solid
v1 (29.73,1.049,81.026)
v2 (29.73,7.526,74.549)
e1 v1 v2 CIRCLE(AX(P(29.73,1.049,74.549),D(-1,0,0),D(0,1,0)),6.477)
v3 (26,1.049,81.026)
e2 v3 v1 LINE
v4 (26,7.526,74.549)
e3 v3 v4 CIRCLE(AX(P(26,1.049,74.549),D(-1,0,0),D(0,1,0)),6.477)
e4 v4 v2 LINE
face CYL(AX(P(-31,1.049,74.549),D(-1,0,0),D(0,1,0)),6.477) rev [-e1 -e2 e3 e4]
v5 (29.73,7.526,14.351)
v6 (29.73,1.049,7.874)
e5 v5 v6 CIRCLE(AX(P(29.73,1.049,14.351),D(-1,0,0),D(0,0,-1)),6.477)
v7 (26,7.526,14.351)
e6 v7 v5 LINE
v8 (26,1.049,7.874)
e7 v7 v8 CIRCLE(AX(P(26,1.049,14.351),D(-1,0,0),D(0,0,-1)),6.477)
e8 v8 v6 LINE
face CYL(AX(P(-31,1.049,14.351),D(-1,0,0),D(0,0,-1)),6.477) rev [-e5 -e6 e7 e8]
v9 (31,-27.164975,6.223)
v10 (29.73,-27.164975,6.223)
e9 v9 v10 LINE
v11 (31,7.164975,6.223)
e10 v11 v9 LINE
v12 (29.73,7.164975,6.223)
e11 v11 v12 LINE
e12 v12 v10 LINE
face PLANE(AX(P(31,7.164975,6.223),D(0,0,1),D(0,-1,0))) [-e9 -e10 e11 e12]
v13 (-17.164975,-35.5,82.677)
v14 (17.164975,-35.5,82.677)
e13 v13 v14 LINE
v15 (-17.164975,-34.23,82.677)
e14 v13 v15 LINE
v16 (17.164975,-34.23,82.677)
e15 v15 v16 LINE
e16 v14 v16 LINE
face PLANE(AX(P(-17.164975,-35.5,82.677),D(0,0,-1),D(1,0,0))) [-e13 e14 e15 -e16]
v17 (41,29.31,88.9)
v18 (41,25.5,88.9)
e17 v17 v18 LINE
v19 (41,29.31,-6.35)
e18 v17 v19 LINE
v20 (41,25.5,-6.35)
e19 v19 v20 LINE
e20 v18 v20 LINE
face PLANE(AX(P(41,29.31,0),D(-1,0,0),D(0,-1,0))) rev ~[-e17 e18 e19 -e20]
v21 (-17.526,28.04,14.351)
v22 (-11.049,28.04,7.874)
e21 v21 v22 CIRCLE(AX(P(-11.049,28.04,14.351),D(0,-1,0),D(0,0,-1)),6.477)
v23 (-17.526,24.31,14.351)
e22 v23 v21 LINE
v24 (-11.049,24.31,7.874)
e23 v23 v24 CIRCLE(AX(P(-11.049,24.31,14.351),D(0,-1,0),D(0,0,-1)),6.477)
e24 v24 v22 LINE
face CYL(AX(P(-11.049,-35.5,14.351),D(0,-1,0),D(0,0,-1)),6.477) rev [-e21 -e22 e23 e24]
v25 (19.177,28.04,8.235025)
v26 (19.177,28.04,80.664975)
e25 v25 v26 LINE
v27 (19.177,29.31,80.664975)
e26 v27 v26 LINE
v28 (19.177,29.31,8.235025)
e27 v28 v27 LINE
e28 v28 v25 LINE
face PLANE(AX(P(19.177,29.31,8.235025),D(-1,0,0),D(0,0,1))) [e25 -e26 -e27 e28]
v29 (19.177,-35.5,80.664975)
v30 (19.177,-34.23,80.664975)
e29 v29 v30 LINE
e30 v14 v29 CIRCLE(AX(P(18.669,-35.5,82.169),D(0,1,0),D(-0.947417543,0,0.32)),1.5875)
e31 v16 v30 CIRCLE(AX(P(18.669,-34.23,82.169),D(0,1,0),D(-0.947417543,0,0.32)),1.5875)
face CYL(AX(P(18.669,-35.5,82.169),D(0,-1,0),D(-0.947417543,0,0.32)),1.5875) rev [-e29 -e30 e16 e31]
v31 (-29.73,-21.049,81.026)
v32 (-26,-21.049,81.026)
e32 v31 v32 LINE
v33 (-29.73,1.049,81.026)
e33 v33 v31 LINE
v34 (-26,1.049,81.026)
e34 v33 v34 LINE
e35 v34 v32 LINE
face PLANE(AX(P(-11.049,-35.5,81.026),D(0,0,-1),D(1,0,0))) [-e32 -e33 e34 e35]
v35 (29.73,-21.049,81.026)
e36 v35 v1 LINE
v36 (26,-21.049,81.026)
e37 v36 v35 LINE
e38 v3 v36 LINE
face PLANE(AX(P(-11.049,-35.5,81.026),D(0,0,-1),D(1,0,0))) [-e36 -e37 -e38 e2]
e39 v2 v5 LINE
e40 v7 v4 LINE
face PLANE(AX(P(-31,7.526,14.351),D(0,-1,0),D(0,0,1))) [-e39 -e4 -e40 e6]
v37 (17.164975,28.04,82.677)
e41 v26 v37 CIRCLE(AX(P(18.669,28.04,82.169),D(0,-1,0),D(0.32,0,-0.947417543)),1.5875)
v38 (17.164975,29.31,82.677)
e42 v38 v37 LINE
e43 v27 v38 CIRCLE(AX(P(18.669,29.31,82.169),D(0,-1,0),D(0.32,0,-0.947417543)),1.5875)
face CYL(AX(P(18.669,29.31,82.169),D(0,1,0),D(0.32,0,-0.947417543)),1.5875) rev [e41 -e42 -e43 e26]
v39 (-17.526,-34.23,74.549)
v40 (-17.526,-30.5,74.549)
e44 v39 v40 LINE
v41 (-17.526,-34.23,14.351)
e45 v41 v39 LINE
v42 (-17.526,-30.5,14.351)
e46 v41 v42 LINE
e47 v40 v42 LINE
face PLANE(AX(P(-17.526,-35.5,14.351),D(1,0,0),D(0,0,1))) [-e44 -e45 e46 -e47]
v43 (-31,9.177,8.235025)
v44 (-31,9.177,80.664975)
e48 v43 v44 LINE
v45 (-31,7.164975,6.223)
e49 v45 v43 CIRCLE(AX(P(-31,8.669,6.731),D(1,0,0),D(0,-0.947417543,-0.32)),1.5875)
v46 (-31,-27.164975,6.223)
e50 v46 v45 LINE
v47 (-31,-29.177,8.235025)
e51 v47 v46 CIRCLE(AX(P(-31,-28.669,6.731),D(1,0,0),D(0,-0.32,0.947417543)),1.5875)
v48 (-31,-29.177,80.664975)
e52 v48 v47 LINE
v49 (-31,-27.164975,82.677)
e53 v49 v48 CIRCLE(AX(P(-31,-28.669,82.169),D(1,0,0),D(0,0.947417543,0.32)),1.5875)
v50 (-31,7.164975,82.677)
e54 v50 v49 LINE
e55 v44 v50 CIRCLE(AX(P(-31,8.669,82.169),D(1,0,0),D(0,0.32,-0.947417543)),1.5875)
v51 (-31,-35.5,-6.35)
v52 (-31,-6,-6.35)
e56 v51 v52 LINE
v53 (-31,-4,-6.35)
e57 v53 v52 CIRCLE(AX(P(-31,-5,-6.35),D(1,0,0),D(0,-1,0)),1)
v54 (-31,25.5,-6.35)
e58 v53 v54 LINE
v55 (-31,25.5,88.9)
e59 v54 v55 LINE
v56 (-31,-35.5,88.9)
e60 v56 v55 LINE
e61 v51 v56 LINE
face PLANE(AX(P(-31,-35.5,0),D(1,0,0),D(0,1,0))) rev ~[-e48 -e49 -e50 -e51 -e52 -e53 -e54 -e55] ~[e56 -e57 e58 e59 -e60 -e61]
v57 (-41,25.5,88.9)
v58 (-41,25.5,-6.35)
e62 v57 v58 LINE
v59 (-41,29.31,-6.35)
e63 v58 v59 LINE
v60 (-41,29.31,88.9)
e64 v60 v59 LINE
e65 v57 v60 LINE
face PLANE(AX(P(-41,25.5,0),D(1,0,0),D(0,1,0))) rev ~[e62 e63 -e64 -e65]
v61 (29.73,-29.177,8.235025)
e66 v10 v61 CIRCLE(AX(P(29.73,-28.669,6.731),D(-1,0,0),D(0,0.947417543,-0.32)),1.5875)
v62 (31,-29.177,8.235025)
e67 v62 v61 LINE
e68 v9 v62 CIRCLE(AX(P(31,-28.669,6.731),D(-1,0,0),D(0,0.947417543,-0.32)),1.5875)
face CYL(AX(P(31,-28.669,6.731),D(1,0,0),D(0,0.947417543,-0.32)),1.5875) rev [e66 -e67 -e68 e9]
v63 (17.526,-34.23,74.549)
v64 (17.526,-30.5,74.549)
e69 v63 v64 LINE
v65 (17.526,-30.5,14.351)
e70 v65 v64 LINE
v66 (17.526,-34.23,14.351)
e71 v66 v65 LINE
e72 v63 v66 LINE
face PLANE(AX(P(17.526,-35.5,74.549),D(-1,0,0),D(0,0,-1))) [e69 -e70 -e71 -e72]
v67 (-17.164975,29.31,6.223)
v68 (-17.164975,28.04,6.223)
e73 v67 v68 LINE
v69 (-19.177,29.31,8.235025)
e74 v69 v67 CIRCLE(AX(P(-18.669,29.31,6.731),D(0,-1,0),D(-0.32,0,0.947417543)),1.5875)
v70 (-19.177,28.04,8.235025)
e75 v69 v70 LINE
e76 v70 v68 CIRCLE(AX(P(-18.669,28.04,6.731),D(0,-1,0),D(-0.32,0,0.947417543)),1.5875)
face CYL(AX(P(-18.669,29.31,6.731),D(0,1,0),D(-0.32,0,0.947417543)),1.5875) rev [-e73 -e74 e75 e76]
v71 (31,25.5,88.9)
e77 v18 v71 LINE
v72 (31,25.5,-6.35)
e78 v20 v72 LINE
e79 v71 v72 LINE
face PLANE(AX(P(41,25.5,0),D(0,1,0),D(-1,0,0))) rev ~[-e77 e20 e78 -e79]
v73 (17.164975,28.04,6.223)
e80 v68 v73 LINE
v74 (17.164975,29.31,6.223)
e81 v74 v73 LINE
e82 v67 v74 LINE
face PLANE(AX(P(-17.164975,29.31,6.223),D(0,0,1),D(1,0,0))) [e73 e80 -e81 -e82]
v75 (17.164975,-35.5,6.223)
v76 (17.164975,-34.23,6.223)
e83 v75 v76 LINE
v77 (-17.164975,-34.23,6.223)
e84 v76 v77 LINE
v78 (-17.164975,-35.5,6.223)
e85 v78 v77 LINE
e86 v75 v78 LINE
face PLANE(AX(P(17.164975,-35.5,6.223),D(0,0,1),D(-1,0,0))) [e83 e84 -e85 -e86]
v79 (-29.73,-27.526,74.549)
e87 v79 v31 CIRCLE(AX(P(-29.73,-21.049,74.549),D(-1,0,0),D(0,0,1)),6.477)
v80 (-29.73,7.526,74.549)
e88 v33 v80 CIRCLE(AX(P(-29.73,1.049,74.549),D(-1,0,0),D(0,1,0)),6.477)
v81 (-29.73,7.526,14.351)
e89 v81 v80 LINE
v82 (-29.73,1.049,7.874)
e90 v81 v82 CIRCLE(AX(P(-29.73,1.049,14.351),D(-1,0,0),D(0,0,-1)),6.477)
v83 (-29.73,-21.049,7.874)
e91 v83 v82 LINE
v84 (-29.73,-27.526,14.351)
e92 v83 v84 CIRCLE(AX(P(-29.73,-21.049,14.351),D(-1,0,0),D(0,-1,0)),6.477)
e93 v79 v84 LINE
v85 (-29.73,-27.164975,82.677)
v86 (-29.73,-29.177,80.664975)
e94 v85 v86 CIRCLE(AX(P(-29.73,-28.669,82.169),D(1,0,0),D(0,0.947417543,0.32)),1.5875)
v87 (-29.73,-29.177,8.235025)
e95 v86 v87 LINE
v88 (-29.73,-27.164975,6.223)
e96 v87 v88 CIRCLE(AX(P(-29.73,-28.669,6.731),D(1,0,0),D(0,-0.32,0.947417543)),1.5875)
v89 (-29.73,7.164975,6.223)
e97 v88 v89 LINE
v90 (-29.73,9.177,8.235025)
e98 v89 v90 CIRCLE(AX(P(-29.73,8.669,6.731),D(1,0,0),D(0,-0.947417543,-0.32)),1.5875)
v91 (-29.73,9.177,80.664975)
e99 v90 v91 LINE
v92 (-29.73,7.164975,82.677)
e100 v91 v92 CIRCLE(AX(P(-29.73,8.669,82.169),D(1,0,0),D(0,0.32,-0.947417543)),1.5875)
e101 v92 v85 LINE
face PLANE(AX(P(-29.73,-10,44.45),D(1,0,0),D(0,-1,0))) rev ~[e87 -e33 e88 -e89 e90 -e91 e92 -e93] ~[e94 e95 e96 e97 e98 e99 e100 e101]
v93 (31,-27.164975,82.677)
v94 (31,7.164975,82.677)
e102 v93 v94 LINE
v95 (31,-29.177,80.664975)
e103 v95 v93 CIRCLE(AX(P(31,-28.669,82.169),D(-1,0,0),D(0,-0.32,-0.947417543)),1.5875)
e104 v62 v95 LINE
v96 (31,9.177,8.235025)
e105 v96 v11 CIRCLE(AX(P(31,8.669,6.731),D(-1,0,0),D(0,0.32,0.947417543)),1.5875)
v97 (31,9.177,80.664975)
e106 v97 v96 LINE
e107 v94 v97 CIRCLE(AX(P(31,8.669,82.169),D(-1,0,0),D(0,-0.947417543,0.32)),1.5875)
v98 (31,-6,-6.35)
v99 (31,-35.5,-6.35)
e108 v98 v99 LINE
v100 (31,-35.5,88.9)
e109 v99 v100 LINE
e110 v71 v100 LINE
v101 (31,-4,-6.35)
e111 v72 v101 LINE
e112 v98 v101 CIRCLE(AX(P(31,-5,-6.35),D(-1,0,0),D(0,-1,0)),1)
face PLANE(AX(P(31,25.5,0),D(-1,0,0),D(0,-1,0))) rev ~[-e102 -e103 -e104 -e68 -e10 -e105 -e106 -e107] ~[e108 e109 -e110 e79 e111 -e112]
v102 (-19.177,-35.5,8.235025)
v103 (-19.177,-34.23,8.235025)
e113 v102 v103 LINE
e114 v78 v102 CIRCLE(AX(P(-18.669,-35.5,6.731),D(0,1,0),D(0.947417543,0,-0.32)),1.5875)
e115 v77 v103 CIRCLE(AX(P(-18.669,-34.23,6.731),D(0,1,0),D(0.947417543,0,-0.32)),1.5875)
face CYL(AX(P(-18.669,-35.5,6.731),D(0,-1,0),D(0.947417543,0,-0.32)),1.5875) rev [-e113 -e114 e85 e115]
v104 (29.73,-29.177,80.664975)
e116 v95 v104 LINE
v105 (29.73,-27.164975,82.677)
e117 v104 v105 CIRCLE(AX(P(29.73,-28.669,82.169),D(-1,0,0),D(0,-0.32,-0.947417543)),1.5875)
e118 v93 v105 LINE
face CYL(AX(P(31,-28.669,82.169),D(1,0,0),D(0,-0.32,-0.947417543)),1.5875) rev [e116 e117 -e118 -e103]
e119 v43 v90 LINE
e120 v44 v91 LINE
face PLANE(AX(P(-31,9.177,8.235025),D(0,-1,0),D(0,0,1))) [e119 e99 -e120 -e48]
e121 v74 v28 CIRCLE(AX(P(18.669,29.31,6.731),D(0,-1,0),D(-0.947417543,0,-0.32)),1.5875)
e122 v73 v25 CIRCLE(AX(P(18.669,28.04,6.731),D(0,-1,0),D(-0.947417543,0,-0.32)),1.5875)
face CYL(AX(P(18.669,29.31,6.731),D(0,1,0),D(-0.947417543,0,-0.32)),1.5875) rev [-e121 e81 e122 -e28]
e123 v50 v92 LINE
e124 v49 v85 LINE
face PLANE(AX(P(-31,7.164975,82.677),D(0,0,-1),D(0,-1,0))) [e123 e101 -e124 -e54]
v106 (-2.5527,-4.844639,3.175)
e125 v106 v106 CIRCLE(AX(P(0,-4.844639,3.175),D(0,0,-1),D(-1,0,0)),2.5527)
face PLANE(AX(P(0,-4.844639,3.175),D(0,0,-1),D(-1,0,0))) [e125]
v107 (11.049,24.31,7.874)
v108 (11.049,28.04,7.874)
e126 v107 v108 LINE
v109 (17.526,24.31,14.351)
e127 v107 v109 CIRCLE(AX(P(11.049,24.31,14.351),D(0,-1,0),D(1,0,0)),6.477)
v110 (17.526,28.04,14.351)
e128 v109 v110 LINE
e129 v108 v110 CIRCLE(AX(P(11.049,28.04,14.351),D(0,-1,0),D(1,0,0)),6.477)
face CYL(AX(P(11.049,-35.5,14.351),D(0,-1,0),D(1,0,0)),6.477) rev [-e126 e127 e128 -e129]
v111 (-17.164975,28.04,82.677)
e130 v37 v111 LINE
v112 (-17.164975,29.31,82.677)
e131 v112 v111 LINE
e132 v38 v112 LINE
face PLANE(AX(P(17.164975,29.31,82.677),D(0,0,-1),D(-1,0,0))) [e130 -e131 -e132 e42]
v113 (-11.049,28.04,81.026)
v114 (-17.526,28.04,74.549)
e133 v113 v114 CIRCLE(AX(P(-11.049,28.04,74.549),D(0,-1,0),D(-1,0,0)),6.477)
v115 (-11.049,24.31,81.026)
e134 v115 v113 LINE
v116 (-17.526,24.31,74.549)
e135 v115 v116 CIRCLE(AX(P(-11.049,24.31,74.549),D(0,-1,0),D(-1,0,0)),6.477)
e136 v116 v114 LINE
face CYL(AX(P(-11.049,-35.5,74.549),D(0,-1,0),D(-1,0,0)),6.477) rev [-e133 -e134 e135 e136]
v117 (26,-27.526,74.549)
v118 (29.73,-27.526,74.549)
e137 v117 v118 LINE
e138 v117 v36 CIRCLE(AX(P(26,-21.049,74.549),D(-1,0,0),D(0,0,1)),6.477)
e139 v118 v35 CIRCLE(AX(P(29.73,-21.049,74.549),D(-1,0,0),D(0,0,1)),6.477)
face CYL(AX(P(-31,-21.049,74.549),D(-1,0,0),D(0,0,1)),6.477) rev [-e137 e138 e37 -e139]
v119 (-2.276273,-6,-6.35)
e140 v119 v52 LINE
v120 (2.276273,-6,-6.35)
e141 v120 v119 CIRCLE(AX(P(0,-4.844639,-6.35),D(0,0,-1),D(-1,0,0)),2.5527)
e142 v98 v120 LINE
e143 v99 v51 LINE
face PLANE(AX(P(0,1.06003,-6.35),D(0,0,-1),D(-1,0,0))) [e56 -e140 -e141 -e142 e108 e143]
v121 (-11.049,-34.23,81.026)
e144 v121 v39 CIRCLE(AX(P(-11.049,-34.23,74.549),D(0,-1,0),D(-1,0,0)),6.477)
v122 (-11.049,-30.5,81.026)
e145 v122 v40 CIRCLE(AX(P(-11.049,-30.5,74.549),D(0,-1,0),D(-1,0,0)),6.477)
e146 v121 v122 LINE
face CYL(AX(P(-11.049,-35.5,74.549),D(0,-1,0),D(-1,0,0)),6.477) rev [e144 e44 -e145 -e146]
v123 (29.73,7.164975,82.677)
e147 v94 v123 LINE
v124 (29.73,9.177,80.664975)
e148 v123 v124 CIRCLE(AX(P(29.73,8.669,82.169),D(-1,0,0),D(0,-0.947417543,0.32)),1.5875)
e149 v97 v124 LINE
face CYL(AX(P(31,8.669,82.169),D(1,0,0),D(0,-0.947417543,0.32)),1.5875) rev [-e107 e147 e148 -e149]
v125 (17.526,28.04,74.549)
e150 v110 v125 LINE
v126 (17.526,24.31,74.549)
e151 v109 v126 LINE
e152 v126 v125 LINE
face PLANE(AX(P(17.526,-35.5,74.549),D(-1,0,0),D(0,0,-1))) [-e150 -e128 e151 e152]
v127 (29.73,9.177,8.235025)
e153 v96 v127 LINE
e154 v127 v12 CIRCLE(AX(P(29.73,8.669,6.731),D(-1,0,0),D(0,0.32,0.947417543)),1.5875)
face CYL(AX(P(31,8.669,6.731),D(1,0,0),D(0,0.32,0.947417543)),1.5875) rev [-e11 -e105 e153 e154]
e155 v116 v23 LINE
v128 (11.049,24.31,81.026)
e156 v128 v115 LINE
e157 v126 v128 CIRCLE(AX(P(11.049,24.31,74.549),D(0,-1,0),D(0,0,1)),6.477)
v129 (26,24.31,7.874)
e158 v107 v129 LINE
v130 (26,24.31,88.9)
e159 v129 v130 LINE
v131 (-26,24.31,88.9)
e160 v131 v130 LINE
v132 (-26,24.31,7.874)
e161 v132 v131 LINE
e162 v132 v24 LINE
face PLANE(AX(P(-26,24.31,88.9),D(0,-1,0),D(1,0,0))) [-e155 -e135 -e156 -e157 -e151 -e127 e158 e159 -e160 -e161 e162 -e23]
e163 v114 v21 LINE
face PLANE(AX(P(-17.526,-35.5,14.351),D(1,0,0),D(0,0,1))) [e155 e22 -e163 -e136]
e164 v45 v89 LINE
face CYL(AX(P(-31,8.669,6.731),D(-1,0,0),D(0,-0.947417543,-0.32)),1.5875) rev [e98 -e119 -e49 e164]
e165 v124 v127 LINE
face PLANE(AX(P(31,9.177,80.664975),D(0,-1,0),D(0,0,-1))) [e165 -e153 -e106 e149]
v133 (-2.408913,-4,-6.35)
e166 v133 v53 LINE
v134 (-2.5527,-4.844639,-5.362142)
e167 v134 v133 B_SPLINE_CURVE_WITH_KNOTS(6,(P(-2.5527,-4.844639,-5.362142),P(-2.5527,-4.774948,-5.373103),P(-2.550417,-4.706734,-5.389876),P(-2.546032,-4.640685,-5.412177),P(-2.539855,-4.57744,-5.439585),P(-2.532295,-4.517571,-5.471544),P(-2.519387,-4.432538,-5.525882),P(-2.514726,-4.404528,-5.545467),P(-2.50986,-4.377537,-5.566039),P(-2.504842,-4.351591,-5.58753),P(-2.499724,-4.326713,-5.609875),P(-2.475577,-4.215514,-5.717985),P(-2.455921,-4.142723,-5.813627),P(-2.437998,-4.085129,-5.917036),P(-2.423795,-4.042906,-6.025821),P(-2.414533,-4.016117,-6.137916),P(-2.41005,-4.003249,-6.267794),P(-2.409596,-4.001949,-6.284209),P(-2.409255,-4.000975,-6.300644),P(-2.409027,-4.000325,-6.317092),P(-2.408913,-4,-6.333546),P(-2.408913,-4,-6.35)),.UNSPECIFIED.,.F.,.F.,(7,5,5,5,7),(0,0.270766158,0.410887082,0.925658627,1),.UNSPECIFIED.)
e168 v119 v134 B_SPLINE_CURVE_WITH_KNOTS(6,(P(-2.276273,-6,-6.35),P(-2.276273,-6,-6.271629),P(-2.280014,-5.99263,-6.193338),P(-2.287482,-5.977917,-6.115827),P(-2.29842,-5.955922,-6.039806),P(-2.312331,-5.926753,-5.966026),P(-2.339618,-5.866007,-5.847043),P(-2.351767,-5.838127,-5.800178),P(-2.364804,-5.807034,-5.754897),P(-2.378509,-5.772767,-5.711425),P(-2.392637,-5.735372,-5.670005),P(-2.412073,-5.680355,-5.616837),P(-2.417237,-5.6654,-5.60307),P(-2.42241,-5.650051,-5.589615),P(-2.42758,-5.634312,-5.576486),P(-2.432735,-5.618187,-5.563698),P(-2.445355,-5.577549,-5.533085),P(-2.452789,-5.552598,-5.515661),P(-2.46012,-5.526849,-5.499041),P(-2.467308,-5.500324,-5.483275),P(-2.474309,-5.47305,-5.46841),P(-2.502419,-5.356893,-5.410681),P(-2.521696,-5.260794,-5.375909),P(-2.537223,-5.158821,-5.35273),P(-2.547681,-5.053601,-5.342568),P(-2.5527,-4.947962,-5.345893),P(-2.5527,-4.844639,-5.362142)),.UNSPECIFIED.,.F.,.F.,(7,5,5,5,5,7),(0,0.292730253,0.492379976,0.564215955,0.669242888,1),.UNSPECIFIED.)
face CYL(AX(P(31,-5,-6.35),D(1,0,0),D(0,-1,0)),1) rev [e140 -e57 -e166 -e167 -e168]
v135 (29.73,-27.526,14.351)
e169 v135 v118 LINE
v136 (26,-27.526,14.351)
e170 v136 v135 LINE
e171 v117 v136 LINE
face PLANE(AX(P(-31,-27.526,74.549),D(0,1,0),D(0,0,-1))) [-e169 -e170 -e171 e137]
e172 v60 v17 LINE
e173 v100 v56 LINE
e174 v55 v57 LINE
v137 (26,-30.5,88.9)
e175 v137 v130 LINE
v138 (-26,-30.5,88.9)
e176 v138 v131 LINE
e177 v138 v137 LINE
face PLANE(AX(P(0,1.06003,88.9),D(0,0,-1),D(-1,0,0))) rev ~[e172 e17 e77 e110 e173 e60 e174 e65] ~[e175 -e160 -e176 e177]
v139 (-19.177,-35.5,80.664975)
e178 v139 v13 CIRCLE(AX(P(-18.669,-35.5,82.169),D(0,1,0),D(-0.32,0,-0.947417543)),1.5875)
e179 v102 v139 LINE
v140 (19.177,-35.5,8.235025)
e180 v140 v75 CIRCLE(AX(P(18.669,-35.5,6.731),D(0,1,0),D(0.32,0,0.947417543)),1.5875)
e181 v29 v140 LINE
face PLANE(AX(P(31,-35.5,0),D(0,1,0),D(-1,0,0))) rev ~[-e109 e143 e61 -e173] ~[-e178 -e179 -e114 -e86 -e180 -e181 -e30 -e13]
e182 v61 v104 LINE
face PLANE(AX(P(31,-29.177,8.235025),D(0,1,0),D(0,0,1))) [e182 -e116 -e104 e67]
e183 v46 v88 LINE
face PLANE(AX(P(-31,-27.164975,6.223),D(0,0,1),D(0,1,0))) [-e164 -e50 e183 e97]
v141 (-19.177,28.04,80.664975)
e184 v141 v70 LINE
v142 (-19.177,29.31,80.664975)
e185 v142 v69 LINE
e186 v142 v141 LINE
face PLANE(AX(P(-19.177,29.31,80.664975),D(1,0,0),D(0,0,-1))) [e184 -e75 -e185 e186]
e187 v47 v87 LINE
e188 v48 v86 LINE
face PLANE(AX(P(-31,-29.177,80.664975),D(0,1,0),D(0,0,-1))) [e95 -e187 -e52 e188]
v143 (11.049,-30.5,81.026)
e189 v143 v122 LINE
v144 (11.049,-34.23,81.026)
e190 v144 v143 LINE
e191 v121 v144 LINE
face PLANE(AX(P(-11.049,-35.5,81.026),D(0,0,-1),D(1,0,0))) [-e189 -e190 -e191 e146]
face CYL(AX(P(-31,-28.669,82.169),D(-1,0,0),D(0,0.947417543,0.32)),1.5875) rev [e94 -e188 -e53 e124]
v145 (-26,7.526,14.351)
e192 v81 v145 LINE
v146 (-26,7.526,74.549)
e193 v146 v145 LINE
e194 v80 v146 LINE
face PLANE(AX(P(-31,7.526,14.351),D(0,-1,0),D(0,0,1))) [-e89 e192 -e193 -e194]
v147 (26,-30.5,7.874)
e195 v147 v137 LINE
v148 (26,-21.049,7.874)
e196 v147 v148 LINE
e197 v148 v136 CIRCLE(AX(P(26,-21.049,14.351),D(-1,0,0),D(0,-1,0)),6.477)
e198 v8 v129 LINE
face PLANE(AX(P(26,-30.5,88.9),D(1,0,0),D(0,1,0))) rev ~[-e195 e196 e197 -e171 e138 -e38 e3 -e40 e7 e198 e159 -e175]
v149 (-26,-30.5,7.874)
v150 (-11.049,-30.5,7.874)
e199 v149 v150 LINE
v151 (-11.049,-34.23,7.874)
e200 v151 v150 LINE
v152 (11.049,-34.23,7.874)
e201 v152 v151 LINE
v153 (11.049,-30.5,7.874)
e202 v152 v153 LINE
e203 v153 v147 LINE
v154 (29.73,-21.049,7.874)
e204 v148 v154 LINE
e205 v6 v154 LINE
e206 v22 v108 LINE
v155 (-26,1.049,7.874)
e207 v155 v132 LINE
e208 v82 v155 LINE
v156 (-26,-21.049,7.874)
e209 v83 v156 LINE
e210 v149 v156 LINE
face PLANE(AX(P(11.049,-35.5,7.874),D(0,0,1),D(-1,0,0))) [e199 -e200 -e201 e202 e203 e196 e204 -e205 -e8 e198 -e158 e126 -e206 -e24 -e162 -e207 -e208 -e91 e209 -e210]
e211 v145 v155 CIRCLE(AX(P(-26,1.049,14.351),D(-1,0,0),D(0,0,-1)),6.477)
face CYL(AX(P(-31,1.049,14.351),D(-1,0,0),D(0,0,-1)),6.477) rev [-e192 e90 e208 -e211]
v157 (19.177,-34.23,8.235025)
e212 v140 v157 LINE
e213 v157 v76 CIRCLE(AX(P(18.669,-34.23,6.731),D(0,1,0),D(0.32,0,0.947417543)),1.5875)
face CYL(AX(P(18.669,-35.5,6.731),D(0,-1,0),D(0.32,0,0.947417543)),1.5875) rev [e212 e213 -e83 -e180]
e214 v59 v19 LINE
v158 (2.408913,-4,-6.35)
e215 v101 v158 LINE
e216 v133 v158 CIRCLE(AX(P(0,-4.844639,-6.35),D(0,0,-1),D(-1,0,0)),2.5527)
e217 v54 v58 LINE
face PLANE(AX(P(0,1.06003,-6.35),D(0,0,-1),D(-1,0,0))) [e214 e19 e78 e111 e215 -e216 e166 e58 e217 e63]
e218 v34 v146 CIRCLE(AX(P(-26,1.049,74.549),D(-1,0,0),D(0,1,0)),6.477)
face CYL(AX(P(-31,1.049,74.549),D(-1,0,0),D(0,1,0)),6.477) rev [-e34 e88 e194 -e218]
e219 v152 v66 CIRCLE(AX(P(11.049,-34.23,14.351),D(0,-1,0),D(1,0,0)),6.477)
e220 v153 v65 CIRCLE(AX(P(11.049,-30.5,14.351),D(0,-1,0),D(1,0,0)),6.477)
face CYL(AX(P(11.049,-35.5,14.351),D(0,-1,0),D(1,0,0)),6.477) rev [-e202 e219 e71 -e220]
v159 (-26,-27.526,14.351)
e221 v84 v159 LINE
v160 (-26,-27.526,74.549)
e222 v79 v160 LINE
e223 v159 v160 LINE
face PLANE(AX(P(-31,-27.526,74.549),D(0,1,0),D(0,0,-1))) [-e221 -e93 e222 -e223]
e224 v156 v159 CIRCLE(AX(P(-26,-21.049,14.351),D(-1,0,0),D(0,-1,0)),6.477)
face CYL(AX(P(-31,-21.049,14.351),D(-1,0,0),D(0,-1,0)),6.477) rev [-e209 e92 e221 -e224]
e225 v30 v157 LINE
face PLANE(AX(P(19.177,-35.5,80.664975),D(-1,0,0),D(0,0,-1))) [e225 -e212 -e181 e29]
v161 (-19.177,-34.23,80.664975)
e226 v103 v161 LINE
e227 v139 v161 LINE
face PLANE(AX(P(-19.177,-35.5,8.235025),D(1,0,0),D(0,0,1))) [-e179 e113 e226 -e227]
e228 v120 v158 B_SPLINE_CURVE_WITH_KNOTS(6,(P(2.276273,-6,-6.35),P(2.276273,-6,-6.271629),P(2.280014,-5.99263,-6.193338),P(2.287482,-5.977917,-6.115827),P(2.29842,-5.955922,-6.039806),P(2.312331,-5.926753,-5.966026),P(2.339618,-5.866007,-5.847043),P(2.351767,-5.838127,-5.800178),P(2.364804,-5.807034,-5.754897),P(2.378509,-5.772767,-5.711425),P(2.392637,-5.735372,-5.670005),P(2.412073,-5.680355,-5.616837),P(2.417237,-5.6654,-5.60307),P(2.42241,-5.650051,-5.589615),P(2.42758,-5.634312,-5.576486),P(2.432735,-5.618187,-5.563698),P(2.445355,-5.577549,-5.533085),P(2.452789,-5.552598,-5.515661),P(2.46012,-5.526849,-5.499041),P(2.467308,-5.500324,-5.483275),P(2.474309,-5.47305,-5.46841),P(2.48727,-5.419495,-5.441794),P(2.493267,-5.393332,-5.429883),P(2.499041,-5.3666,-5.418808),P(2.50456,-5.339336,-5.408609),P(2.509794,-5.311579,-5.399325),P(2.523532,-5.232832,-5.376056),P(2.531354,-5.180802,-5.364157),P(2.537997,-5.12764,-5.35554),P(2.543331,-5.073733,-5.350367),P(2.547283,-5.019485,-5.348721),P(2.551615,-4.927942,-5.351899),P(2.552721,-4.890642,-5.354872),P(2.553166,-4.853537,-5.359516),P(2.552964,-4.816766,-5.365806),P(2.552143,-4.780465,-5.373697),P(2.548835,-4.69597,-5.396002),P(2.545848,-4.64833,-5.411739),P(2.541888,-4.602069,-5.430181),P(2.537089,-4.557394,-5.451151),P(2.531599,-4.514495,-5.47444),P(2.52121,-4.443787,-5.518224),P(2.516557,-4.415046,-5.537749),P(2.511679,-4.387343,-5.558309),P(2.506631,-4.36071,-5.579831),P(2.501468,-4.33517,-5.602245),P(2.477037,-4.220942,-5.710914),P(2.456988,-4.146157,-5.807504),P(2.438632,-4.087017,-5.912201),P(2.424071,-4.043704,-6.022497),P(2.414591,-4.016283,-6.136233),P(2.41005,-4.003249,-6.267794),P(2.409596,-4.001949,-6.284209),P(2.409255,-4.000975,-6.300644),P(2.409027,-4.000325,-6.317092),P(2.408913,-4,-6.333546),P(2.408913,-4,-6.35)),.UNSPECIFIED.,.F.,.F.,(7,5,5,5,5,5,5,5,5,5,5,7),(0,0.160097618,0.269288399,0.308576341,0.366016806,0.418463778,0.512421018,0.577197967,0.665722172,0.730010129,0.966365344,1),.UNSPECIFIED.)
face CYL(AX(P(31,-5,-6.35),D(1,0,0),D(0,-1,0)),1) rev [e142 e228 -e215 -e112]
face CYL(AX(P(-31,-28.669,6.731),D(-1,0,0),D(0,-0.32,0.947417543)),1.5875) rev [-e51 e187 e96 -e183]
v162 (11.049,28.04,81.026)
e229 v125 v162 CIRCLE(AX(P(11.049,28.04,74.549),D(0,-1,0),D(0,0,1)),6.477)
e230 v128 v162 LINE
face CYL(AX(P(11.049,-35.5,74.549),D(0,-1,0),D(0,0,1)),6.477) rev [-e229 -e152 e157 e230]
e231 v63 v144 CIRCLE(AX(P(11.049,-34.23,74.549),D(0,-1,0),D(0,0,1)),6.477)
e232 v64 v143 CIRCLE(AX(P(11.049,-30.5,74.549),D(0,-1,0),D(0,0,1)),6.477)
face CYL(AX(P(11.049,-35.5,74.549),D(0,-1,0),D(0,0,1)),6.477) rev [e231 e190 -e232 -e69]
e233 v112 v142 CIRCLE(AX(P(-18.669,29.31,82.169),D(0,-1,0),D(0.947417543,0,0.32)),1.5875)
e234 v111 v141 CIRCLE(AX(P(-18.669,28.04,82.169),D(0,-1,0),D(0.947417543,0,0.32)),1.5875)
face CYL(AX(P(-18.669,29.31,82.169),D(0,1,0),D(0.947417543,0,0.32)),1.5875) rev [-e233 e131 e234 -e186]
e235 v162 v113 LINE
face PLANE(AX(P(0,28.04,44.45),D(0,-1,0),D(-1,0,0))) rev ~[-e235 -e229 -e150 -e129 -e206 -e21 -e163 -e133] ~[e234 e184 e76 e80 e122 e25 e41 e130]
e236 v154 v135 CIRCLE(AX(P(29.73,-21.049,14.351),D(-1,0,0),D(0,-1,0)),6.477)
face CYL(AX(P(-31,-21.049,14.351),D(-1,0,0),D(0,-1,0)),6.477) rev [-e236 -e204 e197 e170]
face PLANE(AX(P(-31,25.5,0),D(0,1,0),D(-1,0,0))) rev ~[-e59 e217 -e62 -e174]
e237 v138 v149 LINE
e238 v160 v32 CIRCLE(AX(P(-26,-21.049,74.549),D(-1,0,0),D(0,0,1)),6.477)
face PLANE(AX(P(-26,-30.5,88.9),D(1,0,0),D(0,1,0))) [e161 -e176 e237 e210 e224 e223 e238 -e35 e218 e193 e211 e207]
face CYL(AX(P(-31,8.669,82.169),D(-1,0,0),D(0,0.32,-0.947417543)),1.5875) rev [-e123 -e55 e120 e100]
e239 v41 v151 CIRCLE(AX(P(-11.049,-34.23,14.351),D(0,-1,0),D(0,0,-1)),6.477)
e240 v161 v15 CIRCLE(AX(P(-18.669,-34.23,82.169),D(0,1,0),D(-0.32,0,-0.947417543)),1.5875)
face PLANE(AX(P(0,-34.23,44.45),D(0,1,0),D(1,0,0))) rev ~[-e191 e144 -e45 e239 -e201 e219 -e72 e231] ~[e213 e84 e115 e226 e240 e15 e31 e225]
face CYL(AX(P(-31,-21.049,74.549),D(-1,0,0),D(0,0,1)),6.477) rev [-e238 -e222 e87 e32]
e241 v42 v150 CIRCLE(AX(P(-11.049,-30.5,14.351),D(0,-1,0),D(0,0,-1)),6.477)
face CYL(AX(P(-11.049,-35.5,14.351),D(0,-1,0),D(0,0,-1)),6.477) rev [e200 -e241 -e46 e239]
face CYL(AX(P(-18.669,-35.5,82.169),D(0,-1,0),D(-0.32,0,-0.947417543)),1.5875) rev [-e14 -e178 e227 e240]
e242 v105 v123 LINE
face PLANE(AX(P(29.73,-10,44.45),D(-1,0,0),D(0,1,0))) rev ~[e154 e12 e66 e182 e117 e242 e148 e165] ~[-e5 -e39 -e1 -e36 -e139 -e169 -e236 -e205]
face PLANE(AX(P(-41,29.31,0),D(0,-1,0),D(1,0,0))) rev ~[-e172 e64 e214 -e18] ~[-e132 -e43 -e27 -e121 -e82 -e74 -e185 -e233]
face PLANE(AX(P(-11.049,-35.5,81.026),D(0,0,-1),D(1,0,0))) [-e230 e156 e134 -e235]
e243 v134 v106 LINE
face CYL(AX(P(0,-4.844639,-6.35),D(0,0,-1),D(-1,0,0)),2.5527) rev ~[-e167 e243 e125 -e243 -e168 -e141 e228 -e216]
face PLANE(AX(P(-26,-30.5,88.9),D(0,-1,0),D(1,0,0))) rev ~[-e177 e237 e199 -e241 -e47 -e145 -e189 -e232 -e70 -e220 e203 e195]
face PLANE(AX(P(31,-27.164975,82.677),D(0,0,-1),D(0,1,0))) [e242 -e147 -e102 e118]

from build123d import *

# Parameters (mm, degrees)
BOSS_EXTRUDE1_DEPTH = 88.9
CUT_EXTRUDE5_DEPTH  = 73
CUT_EXTRUDE6_DEPTH  = 65.81
SKETCH8_W           = 52
SKETCH8_H           = 54.81
CUT_EXTRUDE7_DEPTH  = 15.875
SKETCH12_W          = 52
SKETCH12_H          = 54.81
CUT_EXTRUDE11_DEPTH = 63.5
SKETCH18_W          = 52
SKETCH18_H          = 54.81
CUT_EXTRUDE14_DEPTH = 81.026
BOSS_EXTRUDE2_DEPTH = 6.35
SKETCH20_R          = 2.5527
CUT_EXTRUDE15_DEPTH = 9.525
CUT_EXTRUDE16_DEPTH = 73
CUT_EXTRUDE17_DEPTH = 1.27
CUT_EXTRUDE18_DEPTH = 1.27
CUT_EXTRUDE19_DEPTH = 1.27
CUT_EXTRUDE20_DEPTH = 1.27


with BuildPart() as part:
    # Sketch1 → Boss-Extrude1 (new body)
    with BuildSketch(Plane.XY):
        Polygon((-41, 29.31), (41, 29.31), (41, 25.5), (31, 25.5), (31, -35.5), (-31, -35.5), (-31, 25.5), (-41, 25.5), align=None)
    extrude(amount=BOSS_EXTRUDE1_DEPTH)

    # Sketch6 → Cut-Extrude5 (cut, through all)
    with BuildSketch(Plane.ZY.offset(31)):
        with BuildLine():
            Line((14.351, 7.526), (74.549, 7.526))
            ThreePointArc((74.549, 7.526), (79.128930622, 5.628930622), (81.026, 1.049))
            Line((81.026, 1.049), (81.026, -21.049))
            ThreePointArc((81.026, -21.049), (79.128930622, -25.628930622), (74.549, -27.526))
            Line((74.549, -27.526), (14.351, -27.526))
            ThreePointArc((14.351, -27.526), (9.771069378, -25.628930622), (7.874, -21.049))
            Line((7.874, -21.049), (7.874, 1.049))
            ThreePointArc((7.874, 1.049), (9.771069378, 5.628930622), (14.351, 7.526))
        make_face()
    extrude(amount=-CUT_EXTRUDE5_DEPTH, mode=Mode.SUBTRACT)

    # Sketch7 → Cut-Extrude6 (cut, through all)
    with BuildSketch(Plane(origin=(0, -35.5, 0), x_dir=(0, 0, 1), z_dir=(0, -1, 0))):
        with BuildLine():
            Line((14.351, 17.526), (74.549, 17.526))
            ThreePointArc((74.549, 17.526), (79.128930622, 15.628930622), (81.026, 11.049))
            Line((81.026, 11.049), (81.026, -11.049))
            ThreePointArc((81.026, -11.049), (79.128930622, -15.628930622), (74.549, -17.526))
            Line((74.549, -17.526), (14.351, -17.526))
            ThreePointArc((14.351, -17.526), (9.771069378, -15.628930622), (7.874, -11.049))
            Line((7.874, -11.049), (7.874, 11.049))
            ThreePointArc((7.874, 11.049), (9.771069378, 15.628930622), (14.351, 17.526))
        make_face()
    extrude(amount=-CUT_EXTRUDE6_DEPTH, mode=Mode.SUBTRACT)

    # Sketch8 → Cut-Extrude7 (cut)
    with BuildSketch(Plane.XY.offset(88.9)):
        with Locations((0, -3.095)):
            Rectangle(SKETCH8_W, SKETCH8_H)
    extrude(amount=-CUT_EXTRUDE7_DEPTH, mode=Mode.SUBTRACT)

    # Sketch12 → Cut-Extrude11 (cut)
    with BuildSketch(Plane.XY.offset(88.9)):
        with Locations((0, -3.095)):
            Rectangle(SKETCH12_W, SKETCH12_H)
    extrude(amount=-CUT_EXTRUDE11_DEPTH, mode=Mode.SUBTRACT)

    # Sketch18 → Cut-Extrude14 (cut)
    with BuildSketch(Plane.XY.offset(88.9)):
        with Locations((0, -3.095)):
            Rectangle(SKETCH18_W, SKETCH18_H)
    extrude(amount=-CUT_EXTRUDE14_DEPTH, mode=Mode.SUBTRACT)

    # Sketch19 → Boss-Extrude2 (add)
    with BuildSketch(Plane(origin=(0, 0, 0), x_dir=(-1, 0, 0), z_dir=(0, 0, -1))):
        Polygon((31, 25.5), (41, 25.5), (41, 29.31), (-41, 29.31), (-41, 25.5), (-31, 25.5), (-31, -35.5), (31, -35.5), align=None)
    extrude(amount=BOSS_EXTRUDE2_DEPTH)

    # Sketch20 → Cut-Extrude15 (cut)
    with BuildSketch(Plane(origin=(0, 0, -6.35), x_dir=(-1, 0, 0), z_dir=(0, 0, -1))):
        with Locations((0, -4.844639258)):
            Circle(SKETCH20_R)
    extrude(amount=-CUT_EXTRUDE15_DEPTH, mode=Mode.SUBTRACT)

    # Sketch21 → Cut-Extrude16 (cut, through all)
    with BuildSketch(Plane(origin=(31, 0, 0), x_dir=(0, 0, -1), z_dir=(1, 0, 0))):
        with BuildLine():
            Line((6.35, -4), (6.35, -6))
            ThreePointArc((6.35, -6), (5.35, -5), (6.35, -4))
        make_face()
    extrude(amount=-CUT_EXTRUDE16_DEPTH, mode=Mode.SUBTRACT)

    # Sketch22 → Cut-Extrude17 (cut)
    with BuildSketch(Plane(origin=(0, -35.5, 0), x_dir=(-1, 0, 0), z_dir=(0, -1, 0))):
        with BuildLine():
            Line((-17.164974651, -6.223), (17.164974651, -6.223))
            ThreePointArc((17.164974651, -6.223), (19.791532015, -5.608467985), (19.177, -8.235025349))
            Line((19.177, -8.235025349), (19.177, -80.664974651))
            ThreePointArc((19.177, -80.664974651), (19.791532015, -83.291532015), (17.164974651, -82.677))
            Line((17.164974651, -82.677), (-17.164974651, -82.677))
            ThreePointArc((-17.164974651, -82.677), (-19.791532015, -83.291532015), (-19.177, -80.664974651))
            Line((-19.177, -80.664974651), (-19.177, -8.235025349))
            ThreePointArc((-19.177, -8.235025349), (-19.791532015, -5.608467985), (-17.164974651, -6.223))
        make_face()
    extrude(amount=-CUT_EXTRUDE17_DEPTH, mode=Mode.SUBTRACT)

    # Sketch23 → Cut-Extrude18 (cut)
    with BuildSketch(Plane(origin=(-31, 0, 0), x_dir=(0, 1, 0), z_dir=(-1, 0, 0))):
        with BuildLine():
            Line((-27.164974651, -6.223), (7.164974651, -6.223))
            ThreePointArc((7.164974651, -6.223), (9.791532015, -5.608467985), (9.177, -8.235025349))
            Line((9.177, -8.235025349), (9.177, -80.664974651))
            ThreePointArc((9.177, -80.664974651), (9.791532015, -83.291532015), (7.164974651, -82.677))
            Line((7.164974651, -82.677), (-27.164974651, -82.677))
            ThreePointArc((-27.164974651, -82.677), (-29.791532015, -83.291532015), (-29.177, -80.664974651))
            Line((-29.177, -80.664974651), (-29.177, -8.235025349))
            ThreePointArc((-29.177, -8.235025349), (-29.791532015, -5.608467985), (-27.164974651, -6.223))
        make_face()
    extrude(amount=-CUT_EXTRUDE18_DEPTH, mode=Mode.SUBTRACT)

    # Sketch24 → Cut-Extrude19 (cut)
    with BuildSketch(Plane(origin=(31, 0, 0), x_dir=(0, -1, 0), z_dir=(1, 0, 0))):
        with BuildLine():
            Line((-7.164974651, -6.223), (27.164974651, -6.223))
            ThreePointArc((27.164974651, -6.223), (29.791532015, -5.608467985), (29.177, -8.235025349))
            Line((29.177, -8.235025349), (29.177, -80.664974651))
            ThreePointArc((29.177, -80.664974651), (29.791532015, -83.291532015), (27.164974651, -82.677))
            Line((27.164974651, -82.677), (-7.164974651, -82.677))
            ThreePointArc((-7.164974651, -82.677), (-9.791532015, -83.291532015), (-9.177, -80.664974651))
            Line((-9.177, -80.664974651), (-9.177, -8.235025349))
            ThreePointArc((-9.177, -8.235025349), (-9.791532015, -5.608467985), (-7.164974651, -6.223))
        make_face()
    extrude(amount=-CUT_EXTRUDE19_DEPTH, mode=Mode.SUBTRACT)

    # Sketch25 → Cut-Extrude20 (cut)
    with BuildSketch(Plane(origin=(0, 29.31, 0), x_dir=(1, 0, 0), z_dir=(0, 1, 0))):
        with BuildLine():
            Line((-17.164974651, -6.223), (17.164974651, -6.223))
            ThreePointArc((17.164974651, -6.223), (19.791532015, -5.608467985), (19.177, -8.235025349))
            Line((19.177, -8.235025349), (19.177, -80.664974651))
            ThreePointArc((19.177, -80.664974651), (19.791532015, -83.291532015), (17.164974651, -82.677))
            Line((17.164974651, -82.677), (-17.164974651, -82.677))
            ThreePointArc((-17.164974651, -82.677), (-19.791532015, -83.291532015), (-19.177, -80.664974651))
            Line((-19.177, -80.664974651), (-19.177, -8.235025349))
            ThreePointArc((-19.177, -8.235025349), (-19.791532015, -5.608467985), (-17.164974651, -6.223))
        make_face()
    extrude(amount=-CUT_EXTRUDE20_DEPTH, mode=Mode.SUBTRACT)


solid = part.part
